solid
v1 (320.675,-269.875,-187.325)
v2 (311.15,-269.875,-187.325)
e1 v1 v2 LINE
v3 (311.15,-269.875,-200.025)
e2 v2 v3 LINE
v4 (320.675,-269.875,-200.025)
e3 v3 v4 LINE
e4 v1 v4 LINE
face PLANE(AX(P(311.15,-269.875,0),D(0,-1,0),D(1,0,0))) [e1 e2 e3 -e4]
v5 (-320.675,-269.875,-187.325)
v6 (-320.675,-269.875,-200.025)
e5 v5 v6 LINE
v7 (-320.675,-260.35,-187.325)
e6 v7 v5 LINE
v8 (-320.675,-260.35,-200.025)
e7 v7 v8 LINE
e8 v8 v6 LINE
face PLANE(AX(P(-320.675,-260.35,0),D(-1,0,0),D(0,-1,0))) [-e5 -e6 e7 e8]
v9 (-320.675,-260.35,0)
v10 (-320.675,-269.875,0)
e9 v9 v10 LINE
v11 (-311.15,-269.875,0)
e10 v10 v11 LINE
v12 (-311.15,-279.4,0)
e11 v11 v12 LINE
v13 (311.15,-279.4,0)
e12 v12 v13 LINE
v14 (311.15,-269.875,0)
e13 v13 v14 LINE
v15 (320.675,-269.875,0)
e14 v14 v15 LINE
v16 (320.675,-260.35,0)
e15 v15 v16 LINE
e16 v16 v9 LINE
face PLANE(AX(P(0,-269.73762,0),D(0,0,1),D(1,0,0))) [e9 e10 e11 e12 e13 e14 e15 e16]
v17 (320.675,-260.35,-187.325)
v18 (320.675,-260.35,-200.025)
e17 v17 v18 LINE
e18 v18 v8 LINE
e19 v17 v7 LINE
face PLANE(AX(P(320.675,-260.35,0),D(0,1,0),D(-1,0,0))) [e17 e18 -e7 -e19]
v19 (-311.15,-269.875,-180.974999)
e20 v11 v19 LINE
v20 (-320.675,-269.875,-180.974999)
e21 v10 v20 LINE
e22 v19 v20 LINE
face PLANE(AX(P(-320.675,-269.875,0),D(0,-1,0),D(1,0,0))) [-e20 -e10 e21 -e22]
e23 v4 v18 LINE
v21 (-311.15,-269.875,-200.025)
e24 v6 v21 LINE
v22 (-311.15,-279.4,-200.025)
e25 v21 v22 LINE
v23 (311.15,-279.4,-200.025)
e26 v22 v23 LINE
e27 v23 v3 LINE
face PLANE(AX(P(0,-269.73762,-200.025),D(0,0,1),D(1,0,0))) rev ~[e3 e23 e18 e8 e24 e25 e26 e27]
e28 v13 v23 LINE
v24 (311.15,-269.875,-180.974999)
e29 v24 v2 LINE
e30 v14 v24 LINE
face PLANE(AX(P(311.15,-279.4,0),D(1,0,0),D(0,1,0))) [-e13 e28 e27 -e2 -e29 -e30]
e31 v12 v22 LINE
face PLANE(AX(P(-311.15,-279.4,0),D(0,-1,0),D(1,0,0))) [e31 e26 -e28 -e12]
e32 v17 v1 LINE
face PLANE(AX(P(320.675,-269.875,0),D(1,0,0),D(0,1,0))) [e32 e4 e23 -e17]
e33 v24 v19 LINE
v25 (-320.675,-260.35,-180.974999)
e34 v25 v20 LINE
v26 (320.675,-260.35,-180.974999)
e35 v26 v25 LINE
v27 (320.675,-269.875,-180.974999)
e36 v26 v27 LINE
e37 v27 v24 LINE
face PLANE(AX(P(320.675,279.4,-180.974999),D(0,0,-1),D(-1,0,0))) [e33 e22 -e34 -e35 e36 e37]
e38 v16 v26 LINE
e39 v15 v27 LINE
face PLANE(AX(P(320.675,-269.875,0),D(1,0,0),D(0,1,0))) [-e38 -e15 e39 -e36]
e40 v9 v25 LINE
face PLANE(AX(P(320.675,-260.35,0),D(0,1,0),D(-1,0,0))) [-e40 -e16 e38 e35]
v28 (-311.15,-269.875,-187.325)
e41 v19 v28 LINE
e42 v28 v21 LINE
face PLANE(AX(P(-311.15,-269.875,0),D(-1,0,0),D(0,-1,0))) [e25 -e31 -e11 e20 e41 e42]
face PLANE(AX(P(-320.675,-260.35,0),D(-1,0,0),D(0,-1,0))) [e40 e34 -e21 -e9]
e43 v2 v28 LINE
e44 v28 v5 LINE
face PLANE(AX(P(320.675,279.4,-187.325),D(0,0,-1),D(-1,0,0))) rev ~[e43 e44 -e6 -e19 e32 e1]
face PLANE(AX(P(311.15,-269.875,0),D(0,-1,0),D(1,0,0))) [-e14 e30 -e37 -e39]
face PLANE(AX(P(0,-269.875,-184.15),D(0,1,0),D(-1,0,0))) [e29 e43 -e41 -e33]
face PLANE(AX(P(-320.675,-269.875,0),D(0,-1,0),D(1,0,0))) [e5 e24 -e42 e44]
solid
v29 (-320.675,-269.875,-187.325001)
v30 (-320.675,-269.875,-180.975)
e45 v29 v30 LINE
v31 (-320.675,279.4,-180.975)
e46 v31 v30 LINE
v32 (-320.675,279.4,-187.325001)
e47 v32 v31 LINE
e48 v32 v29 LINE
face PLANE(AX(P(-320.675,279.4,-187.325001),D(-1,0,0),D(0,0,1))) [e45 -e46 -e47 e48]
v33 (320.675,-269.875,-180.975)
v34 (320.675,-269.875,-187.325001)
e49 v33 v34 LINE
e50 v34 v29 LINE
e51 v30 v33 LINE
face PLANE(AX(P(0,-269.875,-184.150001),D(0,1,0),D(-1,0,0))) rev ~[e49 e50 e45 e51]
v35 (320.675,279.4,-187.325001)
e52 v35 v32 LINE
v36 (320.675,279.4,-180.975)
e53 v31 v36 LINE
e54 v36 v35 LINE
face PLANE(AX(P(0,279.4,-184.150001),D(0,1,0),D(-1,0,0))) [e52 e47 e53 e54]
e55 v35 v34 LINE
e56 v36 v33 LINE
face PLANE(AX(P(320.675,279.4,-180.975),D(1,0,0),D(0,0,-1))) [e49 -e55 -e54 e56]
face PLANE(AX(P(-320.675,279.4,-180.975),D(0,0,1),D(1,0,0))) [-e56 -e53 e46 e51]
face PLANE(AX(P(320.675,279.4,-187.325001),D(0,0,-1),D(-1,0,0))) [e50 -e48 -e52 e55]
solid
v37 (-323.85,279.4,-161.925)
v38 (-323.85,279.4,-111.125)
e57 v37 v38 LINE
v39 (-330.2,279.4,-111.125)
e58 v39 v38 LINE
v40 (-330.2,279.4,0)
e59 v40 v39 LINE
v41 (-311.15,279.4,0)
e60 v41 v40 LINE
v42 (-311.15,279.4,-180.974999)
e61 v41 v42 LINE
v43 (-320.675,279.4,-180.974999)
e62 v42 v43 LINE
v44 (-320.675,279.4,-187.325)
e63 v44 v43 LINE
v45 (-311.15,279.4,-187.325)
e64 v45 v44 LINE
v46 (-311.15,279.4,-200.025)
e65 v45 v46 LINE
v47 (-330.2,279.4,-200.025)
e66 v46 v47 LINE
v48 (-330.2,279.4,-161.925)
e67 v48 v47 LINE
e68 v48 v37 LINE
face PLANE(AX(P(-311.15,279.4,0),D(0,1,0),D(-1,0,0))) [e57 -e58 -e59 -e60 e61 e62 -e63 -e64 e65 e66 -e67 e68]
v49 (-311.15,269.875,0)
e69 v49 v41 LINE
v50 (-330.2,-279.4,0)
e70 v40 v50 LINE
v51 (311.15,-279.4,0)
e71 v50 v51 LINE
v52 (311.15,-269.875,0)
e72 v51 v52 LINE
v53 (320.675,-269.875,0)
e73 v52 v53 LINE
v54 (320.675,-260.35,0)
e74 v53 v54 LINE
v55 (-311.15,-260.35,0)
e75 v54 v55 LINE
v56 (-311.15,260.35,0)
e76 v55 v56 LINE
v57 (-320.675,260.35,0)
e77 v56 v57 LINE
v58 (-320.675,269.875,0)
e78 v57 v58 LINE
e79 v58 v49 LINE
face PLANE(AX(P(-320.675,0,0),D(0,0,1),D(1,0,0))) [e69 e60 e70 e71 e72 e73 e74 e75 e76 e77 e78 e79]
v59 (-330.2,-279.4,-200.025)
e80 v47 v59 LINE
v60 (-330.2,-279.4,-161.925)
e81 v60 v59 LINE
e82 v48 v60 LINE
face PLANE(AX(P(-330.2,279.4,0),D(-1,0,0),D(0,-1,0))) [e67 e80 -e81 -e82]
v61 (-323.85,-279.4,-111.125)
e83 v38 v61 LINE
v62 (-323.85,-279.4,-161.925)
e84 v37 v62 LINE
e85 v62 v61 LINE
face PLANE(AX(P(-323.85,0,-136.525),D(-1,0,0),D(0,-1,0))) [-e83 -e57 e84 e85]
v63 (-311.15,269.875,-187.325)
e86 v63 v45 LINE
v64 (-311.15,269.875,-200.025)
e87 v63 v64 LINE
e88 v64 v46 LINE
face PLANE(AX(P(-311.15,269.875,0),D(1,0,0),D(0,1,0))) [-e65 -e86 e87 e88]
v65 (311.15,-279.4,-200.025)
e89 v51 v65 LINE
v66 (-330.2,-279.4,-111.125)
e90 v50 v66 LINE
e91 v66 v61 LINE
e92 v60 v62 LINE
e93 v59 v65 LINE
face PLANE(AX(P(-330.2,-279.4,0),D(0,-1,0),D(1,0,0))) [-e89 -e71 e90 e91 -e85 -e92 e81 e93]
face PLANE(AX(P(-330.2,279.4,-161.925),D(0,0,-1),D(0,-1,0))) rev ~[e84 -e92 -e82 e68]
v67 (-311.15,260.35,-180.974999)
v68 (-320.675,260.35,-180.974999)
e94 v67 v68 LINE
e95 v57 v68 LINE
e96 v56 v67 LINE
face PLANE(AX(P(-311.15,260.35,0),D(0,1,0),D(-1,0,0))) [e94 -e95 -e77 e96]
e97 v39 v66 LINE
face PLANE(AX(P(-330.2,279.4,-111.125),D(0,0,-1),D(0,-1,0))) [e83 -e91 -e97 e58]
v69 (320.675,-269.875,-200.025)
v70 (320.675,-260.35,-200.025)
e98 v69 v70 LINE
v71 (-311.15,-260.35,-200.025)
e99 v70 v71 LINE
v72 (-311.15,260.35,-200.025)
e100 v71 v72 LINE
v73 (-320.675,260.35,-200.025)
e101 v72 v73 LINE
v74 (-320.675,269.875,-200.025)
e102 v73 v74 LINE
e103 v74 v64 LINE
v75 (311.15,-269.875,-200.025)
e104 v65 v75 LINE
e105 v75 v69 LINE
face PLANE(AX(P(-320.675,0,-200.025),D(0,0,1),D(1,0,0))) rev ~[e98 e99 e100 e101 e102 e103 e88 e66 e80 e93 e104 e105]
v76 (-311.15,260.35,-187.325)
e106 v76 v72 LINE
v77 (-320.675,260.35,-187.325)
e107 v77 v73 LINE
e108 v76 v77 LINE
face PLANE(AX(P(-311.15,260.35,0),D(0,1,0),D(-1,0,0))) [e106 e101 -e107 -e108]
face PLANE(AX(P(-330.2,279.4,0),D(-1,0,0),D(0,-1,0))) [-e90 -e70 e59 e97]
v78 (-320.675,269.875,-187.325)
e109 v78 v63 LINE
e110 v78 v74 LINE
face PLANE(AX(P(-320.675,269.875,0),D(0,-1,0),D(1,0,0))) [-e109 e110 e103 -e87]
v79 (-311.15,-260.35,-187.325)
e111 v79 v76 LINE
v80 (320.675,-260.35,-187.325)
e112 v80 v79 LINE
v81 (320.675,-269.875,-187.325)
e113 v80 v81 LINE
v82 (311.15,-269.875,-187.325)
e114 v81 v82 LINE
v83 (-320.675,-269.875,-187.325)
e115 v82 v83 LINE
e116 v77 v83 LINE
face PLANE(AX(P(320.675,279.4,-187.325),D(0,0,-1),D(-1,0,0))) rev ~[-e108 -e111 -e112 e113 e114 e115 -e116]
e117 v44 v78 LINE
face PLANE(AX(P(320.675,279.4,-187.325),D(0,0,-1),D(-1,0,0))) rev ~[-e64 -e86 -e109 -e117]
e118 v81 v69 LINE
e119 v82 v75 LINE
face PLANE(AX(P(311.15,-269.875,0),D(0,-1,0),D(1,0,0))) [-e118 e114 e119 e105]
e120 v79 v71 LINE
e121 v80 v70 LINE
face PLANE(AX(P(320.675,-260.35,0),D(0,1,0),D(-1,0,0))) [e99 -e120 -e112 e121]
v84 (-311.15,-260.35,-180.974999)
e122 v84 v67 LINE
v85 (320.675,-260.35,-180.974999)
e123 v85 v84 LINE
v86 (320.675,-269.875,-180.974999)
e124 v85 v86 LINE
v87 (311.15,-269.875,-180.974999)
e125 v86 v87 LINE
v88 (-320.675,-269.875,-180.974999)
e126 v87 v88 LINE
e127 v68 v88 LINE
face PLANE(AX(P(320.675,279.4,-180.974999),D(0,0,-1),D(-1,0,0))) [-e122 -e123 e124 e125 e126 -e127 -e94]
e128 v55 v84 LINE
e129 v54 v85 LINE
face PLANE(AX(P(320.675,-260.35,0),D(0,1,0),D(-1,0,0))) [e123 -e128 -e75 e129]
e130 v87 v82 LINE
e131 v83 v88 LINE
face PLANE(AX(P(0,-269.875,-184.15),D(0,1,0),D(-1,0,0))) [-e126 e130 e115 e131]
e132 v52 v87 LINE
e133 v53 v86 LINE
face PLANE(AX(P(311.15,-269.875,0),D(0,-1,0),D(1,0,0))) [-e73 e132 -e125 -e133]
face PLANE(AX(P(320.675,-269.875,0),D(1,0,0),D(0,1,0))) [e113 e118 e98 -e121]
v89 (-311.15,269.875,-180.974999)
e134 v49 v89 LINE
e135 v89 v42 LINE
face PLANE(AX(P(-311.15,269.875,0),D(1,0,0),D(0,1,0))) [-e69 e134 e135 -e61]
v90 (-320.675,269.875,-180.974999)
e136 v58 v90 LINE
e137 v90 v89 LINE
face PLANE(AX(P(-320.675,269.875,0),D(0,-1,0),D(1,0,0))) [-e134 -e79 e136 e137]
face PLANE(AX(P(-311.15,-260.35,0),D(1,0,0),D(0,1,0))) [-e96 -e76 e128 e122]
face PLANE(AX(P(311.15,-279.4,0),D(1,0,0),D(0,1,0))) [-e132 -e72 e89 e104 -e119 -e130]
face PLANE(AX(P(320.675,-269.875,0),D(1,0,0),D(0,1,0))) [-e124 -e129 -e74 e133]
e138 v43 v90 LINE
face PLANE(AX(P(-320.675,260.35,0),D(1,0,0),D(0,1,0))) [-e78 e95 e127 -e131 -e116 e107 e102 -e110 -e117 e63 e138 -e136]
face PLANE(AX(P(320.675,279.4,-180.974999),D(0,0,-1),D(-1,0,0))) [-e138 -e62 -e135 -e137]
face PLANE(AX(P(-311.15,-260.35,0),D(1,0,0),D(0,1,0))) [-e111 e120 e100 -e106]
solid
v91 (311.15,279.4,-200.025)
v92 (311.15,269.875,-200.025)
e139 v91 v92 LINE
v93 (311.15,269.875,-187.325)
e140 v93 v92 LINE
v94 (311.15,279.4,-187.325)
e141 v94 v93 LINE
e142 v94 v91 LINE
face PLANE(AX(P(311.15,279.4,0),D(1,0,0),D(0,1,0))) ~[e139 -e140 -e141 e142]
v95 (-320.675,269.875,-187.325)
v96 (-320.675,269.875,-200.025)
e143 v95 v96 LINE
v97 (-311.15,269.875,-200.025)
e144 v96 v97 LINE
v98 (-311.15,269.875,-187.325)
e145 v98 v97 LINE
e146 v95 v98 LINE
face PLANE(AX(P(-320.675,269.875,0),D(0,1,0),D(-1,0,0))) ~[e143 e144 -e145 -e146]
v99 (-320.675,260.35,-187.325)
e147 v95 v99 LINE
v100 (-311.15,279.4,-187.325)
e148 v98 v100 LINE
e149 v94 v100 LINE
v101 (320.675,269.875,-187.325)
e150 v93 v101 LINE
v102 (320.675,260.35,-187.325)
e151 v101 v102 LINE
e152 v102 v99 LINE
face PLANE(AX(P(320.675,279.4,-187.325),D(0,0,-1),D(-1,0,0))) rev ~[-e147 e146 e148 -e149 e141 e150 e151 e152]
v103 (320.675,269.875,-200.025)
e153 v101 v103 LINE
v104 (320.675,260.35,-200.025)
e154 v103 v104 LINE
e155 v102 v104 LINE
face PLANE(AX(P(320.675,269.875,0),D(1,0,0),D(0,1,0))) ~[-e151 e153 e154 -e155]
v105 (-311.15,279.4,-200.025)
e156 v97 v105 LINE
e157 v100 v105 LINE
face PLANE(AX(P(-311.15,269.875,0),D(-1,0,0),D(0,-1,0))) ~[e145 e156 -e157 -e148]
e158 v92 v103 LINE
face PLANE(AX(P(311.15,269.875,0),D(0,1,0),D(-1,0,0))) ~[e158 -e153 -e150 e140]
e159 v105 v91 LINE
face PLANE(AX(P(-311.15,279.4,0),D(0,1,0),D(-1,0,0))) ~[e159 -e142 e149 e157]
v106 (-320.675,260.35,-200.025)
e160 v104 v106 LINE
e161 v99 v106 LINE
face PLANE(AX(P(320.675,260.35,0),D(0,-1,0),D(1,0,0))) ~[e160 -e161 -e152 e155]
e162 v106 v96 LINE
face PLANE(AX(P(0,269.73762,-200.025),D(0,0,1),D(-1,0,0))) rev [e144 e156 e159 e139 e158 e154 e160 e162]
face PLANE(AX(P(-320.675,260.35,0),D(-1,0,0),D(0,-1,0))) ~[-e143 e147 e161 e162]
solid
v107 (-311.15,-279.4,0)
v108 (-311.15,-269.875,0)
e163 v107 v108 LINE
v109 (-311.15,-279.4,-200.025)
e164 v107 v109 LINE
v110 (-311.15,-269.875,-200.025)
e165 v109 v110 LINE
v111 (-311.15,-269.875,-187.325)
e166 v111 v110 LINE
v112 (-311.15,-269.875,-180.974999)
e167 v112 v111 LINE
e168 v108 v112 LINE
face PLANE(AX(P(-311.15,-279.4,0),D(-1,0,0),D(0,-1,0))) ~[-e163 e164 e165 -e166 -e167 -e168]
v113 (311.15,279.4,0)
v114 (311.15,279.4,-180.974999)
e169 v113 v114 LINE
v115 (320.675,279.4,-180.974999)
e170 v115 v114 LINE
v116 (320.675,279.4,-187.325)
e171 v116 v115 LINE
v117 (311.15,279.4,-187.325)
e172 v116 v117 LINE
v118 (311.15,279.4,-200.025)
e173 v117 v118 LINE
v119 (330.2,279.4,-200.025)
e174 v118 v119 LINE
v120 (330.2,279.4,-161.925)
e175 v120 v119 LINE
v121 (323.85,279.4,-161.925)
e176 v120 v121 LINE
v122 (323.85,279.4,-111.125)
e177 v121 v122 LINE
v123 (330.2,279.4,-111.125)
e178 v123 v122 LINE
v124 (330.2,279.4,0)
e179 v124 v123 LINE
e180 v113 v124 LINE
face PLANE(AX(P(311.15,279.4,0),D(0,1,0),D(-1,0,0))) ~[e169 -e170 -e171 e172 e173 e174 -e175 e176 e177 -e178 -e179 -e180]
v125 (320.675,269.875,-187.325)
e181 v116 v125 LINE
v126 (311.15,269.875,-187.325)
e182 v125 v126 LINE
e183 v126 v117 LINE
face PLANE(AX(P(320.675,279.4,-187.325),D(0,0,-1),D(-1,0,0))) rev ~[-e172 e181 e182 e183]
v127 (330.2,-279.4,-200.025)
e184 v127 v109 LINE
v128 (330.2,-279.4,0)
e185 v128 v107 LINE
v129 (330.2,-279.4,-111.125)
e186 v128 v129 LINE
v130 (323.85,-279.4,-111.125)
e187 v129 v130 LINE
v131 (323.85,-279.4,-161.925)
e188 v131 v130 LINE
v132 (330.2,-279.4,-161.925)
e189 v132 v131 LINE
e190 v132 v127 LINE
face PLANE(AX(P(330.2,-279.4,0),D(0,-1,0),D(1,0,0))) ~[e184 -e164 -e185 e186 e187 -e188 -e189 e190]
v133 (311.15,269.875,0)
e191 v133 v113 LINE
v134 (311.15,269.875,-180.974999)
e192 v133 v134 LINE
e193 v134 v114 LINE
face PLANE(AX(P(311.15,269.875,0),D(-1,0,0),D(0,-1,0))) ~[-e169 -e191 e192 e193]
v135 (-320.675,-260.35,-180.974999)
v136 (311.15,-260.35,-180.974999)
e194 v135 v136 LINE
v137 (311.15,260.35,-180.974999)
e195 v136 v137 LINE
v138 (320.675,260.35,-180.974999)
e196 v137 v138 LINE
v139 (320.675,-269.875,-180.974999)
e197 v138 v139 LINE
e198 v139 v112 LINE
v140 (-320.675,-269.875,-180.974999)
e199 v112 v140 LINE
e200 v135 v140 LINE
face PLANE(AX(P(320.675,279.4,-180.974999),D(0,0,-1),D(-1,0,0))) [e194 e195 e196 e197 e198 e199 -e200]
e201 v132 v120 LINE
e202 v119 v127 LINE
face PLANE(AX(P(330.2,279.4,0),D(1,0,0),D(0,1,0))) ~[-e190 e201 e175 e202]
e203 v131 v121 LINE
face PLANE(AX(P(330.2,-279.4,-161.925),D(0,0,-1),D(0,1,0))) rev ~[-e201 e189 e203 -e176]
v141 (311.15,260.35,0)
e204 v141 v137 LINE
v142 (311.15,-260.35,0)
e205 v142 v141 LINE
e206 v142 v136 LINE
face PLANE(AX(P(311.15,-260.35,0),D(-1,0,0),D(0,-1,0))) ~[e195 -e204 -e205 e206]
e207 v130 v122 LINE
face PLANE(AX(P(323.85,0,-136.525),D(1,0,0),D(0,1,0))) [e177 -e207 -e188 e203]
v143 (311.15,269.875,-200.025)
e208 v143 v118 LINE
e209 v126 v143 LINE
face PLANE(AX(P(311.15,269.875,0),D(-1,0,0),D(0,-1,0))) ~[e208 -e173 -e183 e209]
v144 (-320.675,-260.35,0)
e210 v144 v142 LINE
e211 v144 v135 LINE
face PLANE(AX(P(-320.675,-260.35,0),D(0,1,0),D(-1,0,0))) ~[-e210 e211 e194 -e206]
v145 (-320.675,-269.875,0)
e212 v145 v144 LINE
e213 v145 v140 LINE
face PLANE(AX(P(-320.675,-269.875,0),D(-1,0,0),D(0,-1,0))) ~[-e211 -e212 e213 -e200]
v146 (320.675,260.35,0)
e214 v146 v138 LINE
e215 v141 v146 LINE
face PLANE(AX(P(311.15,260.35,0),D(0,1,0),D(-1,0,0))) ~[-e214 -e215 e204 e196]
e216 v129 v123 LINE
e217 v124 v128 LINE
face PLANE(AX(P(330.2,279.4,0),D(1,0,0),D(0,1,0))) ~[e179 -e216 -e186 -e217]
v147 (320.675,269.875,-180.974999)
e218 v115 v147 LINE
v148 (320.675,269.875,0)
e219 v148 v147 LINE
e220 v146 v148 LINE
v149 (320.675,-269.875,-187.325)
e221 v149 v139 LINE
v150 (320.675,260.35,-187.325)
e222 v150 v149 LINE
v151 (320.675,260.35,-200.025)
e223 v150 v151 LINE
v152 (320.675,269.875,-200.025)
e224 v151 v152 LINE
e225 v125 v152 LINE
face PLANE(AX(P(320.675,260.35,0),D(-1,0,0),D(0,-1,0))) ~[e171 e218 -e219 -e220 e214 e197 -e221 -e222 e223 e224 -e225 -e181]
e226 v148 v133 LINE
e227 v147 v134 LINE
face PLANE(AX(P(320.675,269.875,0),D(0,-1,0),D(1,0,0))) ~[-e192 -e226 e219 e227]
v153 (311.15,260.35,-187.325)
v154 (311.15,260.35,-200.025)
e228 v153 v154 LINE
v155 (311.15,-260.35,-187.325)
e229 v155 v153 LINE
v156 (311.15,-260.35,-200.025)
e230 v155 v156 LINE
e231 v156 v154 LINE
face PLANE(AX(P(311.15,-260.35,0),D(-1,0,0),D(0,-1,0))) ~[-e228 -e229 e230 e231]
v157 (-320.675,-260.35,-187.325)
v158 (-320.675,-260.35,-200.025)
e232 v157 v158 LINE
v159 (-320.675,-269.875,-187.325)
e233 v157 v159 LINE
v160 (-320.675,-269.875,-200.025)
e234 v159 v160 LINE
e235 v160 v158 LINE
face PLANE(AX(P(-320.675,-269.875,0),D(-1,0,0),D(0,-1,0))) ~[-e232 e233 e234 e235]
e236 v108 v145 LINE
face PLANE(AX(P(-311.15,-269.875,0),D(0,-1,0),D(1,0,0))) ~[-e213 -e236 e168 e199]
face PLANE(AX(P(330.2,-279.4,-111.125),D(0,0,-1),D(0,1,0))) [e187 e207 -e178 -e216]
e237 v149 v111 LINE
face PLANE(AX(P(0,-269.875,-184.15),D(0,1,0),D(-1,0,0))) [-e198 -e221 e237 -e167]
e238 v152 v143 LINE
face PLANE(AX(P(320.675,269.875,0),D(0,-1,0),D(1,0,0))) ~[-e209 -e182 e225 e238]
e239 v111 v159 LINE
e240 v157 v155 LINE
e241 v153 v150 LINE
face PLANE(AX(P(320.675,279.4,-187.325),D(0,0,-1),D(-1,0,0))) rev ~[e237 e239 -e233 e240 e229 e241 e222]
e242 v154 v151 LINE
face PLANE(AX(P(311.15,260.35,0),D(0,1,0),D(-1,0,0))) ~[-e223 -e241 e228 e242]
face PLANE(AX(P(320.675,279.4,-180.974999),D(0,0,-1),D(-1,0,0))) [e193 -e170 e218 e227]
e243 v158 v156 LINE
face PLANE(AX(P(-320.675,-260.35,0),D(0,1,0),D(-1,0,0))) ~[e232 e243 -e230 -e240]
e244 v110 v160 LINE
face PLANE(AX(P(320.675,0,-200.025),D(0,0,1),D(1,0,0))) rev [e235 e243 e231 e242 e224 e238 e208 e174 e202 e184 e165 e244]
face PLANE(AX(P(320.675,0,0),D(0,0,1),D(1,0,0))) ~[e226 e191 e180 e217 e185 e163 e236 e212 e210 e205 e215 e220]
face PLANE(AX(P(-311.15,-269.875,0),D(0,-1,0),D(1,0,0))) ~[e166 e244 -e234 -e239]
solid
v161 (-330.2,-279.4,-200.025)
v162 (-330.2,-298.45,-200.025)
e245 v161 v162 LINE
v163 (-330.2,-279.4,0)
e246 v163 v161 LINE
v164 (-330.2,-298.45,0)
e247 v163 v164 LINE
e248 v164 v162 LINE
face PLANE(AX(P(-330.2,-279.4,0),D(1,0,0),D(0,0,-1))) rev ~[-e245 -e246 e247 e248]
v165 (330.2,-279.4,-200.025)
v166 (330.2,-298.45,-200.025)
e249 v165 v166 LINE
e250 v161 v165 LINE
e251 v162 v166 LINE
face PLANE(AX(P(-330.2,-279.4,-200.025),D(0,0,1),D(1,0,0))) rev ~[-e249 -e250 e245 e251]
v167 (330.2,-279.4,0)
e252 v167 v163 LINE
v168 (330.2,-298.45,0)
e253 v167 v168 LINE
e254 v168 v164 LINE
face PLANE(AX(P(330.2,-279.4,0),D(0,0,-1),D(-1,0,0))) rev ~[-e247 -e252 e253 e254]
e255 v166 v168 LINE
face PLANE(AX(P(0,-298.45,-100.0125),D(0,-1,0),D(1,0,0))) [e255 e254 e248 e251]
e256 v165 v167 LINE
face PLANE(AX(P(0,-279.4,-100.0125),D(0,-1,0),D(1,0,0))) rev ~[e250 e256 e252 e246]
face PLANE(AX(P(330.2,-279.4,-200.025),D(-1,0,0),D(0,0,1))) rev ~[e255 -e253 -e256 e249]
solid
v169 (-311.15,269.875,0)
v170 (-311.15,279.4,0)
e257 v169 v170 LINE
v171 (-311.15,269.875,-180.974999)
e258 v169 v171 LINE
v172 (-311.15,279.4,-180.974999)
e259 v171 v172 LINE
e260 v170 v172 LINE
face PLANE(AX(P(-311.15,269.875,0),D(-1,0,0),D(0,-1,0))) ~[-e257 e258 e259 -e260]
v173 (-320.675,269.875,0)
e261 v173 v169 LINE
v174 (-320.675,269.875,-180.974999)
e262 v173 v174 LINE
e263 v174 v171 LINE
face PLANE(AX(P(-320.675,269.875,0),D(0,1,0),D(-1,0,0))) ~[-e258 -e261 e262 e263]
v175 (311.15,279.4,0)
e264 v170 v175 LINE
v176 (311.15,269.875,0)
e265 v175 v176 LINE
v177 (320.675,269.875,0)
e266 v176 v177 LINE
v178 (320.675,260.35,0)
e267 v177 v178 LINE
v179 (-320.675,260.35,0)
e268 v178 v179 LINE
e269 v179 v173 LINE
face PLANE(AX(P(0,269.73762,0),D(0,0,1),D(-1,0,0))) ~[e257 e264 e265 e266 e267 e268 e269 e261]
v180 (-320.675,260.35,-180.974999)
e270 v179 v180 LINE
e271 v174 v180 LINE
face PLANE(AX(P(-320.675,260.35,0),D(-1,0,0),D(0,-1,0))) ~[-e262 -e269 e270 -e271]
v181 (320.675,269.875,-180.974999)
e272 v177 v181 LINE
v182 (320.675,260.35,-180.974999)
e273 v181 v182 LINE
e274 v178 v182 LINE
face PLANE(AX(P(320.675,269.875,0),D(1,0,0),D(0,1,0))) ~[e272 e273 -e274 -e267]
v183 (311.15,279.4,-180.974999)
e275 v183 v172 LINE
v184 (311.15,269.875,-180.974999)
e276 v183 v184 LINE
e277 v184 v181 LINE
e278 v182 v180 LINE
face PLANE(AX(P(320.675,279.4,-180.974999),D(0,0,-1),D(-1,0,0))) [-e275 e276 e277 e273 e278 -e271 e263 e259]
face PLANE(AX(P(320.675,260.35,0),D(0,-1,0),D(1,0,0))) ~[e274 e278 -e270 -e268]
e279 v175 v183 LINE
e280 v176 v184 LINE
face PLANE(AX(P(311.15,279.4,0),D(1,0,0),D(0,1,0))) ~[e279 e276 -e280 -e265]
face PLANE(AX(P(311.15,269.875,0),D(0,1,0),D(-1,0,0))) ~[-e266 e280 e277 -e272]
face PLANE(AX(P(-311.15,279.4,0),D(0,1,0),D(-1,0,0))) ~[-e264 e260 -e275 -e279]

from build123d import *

# Parameters (mm, degrees)
F1_DEPTH  = 200.025
F4_DEPTH  = 200.025
F6_W      = 641.35
F6_H      = 6.350001
F7_DEPTH  = 549.275
F9_DEPTH  = 549.275
F11_DEPTH = 19.05
F12_W     = 558.8
F12_H     = 50.8
F13_DEPTH = 6.35
F14_W     = 558.8
F14_H     = 50.8
F15_DEPTH = 6.35


with BuildPart() as f1:
    # F0 (on Top) → F1 (new body)
    with BuildSketch(Plane.XY):
        Polygon((-311.15, -269.875), (-311.15, -279.4), (311.15, -279.4), (311.15, -269.875), (320.675, -269.875), (320.675, -260.35), (-320.675, -260.35), (-320.675, -269.875), align=None)
    extrude(amount=-F1_DEPTH)


with BuildPart() as f2_1:
    # F2: instance of F1
    add(f1.part.mirror(Plane.XZ))


with BuildPart() as f4:
    # F3 (on Top) → F4 (new body)
    with BuildSketch(Plane.XY):
        Polygon((-311.15, 260.35), (-320.675, 260.35), (-320.675, 269.875), (-311.15, 269.875), (-311.15, 279.4), (-330.2, 279.4), (-330.2, -279.4), (-311.15, -279.4), (-311.15, -269.875), (-320.675, -269.875), (-320.675, -260.35), (-311.15, -260.35), align=None)
        Polygon((320.675, -260.35), (-311.15, -260.35), (-320.675, -260.35), (-320.675, -269.875), (-311.15, -269.875), (-311.15, -279.4), (311.15, -279.4), (311.15, -269.875), (320.675, -269.875), align=None)
    extrude(amount=-F4_DEPTH)


with BuildPart() as f5_1:
    # F5: instance of F4
    add(f4.part.mirror(Plane.YZ))


with BuildPart() as f7_tool:
    # F6 (on face) → F7 (new body)
    with BuildSketch(Plane(origin=(0, 279.4, 0), x_dir=(-1, 0, 0), z_dir=(0, 1, 0))):
        with Locations((0, -184.15)):
            Rectangle(F6_W, F6_H)
    extrude(amount=-F7_DEPTH)


with BuildPart() as f1_1:
    add(f1.part)

    # F7: cut by f7_tool
    add(f7_tool.part, mode=Mode.SUBTRACT)


with BuildPart() as f2_1_1:
    add(f2_1.part)

    # F7: cut by f7_tool
    add(f7_tool.part, mode=Mode.SUBTRACT)


with BuildPart() as f4_1:
    add(f4.part)

    # F7: cut by f7_tool
    add(f7_tool.part, mode=Mode.SUBTRACT)

    # F14 (on face) → F15 (cut)
    with BuildSketch(Plane(origin=(-330.2, 0, 0), x_dir=(0, -1, 0), z_dir=(-1, 0, 0))):
        with Locations((0, -136.525)):
            Rectangle(F14_W, F14_H)
    extrude(amount=-F15_DEPTH, mode=Mode.SUBTRACT)


with BuildPart() as f5_1_1:
    add(f5_1.part)

    # F7: cut by f7_tool
    add(f7_tool.part, mode=Mode.SUBTRACT)

    # F12 (on face) → F13 (cut)
    with BuildSketch(Plane.YZ.offset(330.2)):
        with Locations((0, -136.525)):
            Rectangle(F12_W, F12_H)
    extrude(amount=-F13_DEPTH, mode=Mode.SUBTRACT)


with BuildPart() as f9:
    # F8 (on face) → F9 (new body, through all)
    with BuildSketch(Plane(origin=(0, 279.4, 0), x_dir=(-1, 0, 0), z_dir=(0, 1, 0))):
        Polygon((-320.675, -180.975), (-320.675, -187.325001), (-311.15, -187.325001), (311.15, -187.325001), (320.675, -187.325001), (320.675, -180.975), (311.15, -180.975), (-311.15, -180.975), align=None)
    extrude(amount=-F9_DEPTH)


with BuildPart() as f11:
    # F10 (on face) → F11 (new body)
    with BuildSketch(Plane.XZ.offset(279.4)):
        Polygon((-330.2, 0), (-330.2, -200.025), (-311.15, -200.025), (311.15, -200.025), (330.2, -200.025), (330.2, 0), (311.15, 0), (-311.15, 0), align=None)
    extrude(amount=F11_DEPTH)


solid = Compound([f1_1.part, f2_1_1.part, f4_1.part, f5_1_1.part, f9.part, f11.part])
